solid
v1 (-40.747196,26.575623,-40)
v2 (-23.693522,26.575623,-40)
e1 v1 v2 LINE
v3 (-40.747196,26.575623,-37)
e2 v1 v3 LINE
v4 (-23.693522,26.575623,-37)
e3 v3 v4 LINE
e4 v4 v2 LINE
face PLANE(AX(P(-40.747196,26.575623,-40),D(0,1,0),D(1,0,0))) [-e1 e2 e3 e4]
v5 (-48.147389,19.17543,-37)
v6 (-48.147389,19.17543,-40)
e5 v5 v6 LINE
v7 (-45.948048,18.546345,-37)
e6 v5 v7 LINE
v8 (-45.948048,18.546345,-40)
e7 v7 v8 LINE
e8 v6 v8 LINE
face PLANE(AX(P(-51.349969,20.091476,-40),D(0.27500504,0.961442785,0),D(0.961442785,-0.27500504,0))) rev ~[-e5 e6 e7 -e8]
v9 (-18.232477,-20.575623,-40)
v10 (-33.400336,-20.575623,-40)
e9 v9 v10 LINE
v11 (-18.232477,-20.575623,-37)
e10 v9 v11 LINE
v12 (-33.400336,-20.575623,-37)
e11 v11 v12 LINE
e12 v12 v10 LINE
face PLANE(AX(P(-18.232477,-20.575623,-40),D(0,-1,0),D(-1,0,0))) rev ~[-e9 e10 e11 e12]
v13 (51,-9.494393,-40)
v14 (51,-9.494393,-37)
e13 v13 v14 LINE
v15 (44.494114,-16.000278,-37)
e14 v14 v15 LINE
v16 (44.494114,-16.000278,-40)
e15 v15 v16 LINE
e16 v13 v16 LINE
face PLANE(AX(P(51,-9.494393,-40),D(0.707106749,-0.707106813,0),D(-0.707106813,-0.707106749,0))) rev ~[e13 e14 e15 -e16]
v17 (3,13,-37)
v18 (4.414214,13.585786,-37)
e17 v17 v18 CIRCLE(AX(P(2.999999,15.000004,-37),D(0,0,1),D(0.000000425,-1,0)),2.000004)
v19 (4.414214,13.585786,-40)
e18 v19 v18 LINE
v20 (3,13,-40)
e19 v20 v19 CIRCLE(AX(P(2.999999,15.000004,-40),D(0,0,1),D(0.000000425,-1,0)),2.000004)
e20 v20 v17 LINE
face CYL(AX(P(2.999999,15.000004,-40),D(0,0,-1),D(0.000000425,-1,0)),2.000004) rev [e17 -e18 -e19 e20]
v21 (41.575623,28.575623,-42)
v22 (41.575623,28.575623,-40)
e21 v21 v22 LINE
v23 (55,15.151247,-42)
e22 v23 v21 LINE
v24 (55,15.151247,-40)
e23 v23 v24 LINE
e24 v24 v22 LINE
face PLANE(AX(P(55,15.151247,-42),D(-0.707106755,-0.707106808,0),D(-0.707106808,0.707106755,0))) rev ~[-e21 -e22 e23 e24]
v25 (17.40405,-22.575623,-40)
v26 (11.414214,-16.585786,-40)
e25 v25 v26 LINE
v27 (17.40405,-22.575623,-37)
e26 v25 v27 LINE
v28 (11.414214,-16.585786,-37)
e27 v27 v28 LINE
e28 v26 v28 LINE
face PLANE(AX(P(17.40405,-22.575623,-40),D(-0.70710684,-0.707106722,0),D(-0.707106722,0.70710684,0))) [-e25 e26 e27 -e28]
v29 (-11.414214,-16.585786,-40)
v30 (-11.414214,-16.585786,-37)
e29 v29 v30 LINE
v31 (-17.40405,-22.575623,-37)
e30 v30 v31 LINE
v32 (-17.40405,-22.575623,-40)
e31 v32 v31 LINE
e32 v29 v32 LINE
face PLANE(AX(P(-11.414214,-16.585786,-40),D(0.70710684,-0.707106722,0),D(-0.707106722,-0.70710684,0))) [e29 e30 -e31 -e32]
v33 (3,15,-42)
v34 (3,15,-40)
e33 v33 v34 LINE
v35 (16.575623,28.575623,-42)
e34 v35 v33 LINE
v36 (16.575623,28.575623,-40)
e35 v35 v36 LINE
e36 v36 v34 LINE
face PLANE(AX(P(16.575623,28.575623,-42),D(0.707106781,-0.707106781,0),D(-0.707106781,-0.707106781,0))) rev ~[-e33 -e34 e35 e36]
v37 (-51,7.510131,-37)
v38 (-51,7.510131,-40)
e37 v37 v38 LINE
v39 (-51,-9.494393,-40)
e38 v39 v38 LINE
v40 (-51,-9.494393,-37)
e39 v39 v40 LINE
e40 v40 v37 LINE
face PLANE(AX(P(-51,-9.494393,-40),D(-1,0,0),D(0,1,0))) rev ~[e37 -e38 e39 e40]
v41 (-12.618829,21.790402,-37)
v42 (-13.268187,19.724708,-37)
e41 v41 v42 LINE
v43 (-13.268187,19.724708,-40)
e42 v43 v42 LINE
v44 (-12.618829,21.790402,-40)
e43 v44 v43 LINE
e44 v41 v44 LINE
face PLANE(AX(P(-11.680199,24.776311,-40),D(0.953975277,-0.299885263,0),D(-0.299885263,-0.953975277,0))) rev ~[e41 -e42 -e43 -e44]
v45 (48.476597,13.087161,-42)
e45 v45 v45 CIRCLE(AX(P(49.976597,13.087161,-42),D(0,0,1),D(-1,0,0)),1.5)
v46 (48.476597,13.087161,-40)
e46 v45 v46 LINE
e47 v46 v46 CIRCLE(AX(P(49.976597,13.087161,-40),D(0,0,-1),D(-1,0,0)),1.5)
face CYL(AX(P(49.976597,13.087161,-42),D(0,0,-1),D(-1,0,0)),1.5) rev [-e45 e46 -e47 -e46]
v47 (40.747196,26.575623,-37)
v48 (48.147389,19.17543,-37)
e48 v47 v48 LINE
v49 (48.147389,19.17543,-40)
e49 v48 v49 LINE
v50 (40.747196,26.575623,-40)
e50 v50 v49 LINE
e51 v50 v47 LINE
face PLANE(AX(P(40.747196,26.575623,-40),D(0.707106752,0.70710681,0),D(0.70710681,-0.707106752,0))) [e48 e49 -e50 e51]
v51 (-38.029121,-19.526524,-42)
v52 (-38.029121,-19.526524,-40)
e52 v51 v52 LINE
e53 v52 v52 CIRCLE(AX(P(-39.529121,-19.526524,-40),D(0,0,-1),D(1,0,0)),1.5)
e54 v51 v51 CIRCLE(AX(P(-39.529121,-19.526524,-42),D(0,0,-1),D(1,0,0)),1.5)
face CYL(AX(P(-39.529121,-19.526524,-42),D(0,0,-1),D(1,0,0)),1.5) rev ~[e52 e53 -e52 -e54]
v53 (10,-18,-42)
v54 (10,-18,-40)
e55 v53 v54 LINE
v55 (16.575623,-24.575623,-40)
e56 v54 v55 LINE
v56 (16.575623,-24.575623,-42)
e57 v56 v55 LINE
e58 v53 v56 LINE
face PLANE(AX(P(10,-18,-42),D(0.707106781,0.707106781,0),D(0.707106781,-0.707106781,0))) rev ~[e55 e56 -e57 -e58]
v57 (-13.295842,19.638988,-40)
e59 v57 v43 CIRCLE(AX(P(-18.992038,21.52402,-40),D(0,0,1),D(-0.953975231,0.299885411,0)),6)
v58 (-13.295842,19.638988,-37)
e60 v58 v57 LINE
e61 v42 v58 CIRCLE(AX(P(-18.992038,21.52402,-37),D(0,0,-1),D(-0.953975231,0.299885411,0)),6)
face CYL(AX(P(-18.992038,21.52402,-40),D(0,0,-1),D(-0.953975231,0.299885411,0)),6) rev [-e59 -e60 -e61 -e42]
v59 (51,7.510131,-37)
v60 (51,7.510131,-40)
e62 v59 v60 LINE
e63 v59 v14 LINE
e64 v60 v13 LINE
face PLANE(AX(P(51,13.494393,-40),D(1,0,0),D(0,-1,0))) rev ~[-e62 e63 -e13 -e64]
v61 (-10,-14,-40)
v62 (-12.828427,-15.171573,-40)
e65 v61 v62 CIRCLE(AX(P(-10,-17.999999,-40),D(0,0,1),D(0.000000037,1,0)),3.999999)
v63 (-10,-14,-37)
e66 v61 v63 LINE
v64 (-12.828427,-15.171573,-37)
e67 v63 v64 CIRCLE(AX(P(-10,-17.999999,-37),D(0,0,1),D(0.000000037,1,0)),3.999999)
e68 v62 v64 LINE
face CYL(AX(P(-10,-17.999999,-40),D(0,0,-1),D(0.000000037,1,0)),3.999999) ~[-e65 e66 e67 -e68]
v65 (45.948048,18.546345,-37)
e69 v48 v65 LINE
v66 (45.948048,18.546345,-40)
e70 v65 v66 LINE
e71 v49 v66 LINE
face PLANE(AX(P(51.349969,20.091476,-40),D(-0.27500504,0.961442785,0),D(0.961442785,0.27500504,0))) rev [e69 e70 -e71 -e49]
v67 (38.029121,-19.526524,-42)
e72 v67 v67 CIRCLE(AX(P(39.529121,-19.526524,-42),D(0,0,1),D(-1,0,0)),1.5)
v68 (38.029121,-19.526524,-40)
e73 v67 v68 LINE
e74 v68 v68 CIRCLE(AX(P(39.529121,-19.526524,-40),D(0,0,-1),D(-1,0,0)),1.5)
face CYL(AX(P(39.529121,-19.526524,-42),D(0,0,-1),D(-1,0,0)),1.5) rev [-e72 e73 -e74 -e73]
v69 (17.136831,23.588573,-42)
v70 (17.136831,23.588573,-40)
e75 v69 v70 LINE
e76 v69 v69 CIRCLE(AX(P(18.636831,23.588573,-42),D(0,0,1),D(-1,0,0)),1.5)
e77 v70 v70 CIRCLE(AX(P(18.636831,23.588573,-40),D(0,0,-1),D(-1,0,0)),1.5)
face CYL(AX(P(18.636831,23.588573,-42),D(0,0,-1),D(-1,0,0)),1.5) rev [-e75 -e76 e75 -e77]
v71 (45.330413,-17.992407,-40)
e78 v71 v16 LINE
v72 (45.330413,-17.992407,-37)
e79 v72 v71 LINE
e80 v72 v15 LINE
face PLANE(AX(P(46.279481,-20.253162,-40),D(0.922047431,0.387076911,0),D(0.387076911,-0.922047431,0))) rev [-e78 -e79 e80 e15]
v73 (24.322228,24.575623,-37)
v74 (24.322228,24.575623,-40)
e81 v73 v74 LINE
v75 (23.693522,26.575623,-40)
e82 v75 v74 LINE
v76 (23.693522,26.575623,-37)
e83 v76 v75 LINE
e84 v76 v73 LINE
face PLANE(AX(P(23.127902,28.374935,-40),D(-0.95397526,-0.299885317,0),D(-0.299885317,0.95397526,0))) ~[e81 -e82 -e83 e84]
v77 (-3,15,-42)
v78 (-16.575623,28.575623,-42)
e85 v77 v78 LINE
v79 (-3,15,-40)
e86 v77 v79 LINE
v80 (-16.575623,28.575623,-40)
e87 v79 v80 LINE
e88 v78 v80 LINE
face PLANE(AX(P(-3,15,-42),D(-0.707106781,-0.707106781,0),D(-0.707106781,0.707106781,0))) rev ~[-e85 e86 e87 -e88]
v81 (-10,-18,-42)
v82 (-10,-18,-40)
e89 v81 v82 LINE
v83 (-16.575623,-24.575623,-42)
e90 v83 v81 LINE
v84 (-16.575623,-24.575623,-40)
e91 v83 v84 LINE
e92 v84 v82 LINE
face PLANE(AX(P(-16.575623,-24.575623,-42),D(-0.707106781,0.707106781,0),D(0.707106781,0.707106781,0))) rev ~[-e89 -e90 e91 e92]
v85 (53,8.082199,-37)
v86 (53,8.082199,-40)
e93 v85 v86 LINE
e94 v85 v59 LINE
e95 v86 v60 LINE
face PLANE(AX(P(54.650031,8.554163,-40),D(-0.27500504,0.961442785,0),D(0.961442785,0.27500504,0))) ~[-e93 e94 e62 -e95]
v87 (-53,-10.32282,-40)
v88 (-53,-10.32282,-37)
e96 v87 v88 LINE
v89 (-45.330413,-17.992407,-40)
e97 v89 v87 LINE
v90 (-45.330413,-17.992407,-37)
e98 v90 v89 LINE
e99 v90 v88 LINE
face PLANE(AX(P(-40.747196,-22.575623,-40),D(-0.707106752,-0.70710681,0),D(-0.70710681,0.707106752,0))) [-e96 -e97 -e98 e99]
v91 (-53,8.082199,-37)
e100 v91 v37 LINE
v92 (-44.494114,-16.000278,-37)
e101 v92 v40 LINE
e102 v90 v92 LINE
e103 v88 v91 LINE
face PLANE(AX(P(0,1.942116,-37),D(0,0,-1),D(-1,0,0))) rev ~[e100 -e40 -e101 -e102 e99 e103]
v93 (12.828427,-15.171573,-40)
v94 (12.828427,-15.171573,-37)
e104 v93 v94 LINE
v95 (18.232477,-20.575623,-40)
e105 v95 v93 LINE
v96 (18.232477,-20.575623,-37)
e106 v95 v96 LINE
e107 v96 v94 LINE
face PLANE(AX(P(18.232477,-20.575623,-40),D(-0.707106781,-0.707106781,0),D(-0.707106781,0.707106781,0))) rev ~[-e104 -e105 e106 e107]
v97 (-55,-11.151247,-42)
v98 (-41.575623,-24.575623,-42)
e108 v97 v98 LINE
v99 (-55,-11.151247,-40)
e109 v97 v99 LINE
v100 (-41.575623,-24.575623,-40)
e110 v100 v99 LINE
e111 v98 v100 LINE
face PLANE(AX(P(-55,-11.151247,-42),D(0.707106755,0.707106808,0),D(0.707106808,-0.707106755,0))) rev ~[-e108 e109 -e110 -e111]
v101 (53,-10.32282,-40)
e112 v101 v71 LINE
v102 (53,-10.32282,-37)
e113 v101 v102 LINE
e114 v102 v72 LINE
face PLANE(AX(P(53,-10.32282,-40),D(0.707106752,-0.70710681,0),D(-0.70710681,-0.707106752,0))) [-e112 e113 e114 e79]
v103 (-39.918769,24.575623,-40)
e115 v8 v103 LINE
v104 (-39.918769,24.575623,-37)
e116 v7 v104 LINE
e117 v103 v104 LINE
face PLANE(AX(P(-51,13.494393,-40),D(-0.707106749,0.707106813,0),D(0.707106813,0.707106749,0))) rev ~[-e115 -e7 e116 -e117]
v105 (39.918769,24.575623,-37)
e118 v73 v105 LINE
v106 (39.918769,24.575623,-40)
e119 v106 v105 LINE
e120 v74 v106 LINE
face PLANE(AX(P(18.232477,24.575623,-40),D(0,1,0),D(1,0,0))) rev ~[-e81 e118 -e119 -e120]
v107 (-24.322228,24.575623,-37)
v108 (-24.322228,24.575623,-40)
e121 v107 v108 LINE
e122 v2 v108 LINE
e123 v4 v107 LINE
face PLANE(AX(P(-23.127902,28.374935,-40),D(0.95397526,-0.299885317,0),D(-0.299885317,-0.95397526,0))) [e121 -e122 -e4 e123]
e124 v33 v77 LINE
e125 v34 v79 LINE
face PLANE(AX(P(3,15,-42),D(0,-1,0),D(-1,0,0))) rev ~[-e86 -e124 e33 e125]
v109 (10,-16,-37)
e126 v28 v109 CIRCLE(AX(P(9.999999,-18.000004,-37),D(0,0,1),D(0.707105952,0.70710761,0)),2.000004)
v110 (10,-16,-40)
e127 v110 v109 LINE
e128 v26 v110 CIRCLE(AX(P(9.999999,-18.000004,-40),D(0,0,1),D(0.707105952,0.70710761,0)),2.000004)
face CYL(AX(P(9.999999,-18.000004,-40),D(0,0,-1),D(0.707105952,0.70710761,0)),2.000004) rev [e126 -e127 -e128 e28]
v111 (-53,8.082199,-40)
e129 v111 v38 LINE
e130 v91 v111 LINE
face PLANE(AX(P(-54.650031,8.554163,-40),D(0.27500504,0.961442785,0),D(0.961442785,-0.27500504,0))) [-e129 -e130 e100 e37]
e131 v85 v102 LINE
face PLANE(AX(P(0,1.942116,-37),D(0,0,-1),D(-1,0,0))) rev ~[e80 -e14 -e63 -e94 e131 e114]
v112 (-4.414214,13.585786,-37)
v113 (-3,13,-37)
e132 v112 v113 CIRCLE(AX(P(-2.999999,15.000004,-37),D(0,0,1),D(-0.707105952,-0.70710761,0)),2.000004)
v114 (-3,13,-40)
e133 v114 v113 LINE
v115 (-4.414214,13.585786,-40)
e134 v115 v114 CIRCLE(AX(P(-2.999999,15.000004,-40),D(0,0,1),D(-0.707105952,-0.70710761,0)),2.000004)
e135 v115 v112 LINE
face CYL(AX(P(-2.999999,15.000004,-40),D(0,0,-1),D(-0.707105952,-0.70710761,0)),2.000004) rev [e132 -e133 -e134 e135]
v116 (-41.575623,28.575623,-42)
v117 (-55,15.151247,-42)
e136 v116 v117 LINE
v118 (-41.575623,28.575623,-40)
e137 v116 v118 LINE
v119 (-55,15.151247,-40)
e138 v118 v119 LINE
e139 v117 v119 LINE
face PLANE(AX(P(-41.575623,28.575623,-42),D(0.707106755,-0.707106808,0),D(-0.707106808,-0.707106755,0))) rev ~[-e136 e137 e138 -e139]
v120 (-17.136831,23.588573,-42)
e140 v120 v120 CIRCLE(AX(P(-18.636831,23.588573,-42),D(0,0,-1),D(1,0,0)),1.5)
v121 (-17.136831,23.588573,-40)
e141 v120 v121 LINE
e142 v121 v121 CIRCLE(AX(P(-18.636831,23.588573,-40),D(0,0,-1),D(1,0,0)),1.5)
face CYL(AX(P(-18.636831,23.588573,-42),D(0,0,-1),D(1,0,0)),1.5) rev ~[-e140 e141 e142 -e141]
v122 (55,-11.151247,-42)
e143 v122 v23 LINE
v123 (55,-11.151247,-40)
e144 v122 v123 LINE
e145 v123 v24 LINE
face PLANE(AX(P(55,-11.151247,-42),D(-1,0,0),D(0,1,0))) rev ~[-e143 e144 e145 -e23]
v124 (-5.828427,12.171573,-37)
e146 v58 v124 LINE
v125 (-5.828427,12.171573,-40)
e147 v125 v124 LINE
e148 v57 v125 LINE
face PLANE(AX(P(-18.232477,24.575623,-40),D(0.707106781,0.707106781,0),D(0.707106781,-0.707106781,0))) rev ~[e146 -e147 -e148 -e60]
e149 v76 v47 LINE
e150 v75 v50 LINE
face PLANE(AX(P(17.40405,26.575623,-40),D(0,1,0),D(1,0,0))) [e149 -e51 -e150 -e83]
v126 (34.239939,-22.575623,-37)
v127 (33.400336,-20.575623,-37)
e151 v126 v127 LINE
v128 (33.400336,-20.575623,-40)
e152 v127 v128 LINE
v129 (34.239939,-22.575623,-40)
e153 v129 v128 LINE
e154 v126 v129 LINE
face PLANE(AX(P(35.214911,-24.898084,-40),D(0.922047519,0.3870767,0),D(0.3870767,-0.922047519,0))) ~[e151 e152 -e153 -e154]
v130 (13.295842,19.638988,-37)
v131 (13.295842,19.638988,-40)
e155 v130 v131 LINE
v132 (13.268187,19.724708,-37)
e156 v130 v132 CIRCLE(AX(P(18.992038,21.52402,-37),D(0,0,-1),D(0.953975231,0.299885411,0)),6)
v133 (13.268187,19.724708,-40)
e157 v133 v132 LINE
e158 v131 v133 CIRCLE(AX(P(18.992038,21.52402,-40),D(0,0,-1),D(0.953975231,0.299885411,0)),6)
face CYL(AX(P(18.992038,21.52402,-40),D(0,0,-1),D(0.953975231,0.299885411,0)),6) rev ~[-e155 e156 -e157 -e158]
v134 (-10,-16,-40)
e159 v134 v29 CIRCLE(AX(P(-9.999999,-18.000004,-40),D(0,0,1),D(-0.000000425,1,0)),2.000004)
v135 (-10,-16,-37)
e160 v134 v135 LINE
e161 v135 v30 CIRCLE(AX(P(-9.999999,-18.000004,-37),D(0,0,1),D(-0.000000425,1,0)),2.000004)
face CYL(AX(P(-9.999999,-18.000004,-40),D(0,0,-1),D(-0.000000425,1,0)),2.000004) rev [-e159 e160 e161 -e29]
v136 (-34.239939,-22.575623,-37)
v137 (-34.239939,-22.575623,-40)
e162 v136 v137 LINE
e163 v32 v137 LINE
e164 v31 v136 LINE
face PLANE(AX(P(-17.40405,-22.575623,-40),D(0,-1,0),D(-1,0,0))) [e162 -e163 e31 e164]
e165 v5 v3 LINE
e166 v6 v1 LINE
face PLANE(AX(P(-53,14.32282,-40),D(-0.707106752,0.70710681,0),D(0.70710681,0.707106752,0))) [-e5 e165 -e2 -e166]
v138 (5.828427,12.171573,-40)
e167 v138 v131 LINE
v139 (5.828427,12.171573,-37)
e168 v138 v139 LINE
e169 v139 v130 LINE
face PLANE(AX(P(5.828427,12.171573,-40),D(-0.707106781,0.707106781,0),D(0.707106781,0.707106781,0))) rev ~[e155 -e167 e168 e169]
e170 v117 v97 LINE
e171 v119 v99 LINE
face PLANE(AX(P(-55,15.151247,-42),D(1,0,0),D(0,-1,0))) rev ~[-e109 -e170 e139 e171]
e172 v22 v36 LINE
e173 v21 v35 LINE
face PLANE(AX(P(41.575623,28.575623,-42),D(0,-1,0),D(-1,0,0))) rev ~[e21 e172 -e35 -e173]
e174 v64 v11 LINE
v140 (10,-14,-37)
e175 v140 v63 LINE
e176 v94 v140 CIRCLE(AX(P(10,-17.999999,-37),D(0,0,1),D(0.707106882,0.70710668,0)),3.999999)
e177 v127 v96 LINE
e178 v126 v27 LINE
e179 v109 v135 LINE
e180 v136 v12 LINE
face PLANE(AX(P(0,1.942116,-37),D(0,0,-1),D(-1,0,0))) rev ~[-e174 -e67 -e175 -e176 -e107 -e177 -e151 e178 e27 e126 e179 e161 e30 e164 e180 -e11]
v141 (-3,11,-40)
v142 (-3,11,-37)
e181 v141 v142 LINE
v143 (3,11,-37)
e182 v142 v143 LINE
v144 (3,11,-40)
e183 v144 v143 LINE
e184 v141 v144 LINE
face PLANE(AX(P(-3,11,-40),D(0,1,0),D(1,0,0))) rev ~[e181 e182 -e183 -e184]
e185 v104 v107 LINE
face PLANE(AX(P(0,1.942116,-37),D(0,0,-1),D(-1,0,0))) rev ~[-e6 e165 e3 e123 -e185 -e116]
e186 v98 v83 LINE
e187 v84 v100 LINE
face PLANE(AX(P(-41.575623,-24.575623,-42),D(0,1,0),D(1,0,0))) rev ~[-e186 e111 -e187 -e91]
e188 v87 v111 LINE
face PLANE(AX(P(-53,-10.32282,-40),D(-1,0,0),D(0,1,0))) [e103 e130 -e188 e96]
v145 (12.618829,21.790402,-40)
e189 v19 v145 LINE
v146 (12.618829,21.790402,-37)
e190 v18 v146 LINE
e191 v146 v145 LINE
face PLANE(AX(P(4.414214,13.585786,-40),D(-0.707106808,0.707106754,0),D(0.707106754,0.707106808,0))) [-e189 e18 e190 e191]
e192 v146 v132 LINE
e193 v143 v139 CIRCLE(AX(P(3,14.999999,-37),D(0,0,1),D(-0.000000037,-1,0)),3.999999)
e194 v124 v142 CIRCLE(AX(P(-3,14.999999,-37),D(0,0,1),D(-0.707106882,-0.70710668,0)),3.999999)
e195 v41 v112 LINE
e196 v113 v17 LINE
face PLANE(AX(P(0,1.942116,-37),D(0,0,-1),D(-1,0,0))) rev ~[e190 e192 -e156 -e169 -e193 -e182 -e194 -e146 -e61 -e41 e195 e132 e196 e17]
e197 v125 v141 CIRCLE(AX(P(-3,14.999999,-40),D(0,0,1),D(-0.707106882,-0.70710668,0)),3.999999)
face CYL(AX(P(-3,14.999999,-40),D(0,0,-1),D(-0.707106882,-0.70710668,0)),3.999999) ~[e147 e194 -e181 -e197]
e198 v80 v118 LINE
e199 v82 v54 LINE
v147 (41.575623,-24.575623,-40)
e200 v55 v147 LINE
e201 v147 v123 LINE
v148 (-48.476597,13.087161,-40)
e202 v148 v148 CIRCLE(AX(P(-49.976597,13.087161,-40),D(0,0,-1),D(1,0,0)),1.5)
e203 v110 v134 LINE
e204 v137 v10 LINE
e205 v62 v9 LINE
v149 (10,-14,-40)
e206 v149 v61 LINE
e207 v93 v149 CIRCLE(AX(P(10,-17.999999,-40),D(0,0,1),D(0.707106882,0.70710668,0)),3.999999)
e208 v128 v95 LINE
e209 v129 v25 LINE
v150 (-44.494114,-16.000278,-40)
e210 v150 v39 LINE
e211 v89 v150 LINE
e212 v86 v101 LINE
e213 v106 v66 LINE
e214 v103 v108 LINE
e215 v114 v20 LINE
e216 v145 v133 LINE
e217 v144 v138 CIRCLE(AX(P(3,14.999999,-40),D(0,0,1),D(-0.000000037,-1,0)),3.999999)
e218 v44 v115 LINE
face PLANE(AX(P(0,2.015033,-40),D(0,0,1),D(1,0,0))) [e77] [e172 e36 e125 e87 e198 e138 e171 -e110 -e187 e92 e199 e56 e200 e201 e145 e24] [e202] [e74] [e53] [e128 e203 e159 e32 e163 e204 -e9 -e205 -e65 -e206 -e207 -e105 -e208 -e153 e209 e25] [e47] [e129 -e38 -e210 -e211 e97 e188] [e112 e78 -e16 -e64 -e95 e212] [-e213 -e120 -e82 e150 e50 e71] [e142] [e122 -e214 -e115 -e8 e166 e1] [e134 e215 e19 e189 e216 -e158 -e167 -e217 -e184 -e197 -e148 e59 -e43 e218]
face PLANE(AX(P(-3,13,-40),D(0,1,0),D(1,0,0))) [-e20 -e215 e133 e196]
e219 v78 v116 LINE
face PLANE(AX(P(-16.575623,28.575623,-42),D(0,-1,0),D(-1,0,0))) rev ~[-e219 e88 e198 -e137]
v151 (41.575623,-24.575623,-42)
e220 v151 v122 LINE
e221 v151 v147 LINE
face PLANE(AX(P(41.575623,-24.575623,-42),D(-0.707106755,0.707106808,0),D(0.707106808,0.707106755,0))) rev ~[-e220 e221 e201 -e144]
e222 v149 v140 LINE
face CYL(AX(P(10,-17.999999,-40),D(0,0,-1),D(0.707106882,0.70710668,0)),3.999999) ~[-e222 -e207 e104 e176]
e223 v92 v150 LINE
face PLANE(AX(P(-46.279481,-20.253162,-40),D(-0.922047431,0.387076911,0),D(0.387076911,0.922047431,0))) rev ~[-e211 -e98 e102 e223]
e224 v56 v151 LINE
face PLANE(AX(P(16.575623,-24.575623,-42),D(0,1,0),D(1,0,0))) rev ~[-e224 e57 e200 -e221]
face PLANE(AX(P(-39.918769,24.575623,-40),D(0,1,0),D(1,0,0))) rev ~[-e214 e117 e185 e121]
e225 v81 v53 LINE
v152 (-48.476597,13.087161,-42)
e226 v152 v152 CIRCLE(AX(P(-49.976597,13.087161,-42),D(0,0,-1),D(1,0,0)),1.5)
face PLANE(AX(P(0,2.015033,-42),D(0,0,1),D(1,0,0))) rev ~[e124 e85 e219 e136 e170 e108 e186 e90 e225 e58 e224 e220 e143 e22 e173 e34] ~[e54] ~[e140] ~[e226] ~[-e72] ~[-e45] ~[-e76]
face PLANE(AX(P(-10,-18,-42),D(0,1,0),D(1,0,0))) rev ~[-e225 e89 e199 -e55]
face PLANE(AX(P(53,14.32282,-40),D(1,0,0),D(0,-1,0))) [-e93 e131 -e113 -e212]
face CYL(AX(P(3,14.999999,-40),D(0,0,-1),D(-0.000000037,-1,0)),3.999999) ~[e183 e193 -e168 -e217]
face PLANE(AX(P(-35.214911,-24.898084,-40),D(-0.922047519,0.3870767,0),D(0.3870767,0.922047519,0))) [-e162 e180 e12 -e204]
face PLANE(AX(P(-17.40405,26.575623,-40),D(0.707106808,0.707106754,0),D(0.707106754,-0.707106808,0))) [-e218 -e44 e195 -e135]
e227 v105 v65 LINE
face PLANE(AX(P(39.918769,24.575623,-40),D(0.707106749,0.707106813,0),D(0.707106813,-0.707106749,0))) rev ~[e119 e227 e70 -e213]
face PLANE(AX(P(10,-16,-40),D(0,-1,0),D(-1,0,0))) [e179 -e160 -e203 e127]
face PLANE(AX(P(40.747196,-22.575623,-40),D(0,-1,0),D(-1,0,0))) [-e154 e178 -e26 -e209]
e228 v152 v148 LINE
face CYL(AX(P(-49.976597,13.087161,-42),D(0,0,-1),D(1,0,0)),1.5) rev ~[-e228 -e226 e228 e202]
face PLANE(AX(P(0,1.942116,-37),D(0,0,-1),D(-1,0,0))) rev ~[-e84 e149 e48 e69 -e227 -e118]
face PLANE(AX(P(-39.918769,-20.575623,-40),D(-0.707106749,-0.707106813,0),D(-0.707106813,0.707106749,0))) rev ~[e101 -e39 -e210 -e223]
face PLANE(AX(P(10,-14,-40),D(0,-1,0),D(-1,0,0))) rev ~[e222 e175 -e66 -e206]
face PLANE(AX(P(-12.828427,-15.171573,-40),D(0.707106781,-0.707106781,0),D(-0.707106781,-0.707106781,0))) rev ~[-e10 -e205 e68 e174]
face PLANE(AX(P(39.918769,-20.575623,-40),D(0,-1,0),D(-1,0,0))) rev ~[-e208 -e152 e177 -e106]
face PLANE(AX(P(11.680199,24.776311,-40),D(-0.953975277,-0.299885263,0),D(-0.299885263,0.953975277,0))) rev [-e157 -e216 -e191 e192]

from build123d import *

# Parameters (mm, degrees)
PAD004_DEPTH    = 2
PAD005_DEPTH    = 3
POCKET006_DEPTH = 5
SKETCH015_R     = 1.5
POCKET007_DEPTH = 5


with BuildPart() as part:
    # Sketch011 → Pad004 (new body)
    with BuildSketch(Plane.XY):
        Polygon((-41.575623, -24.575623), (-16.575623, -24.575623), (-10, -18), (10, -18), (16.575623, -24.575623), (41.575623, -24.575623), (55, -11.151247), (55, 15.151247), (41.575623, 28.575623), (16.575623, 28.575623), (3, 15), (-3, 15), (-16.575623, 28.575623), (-41.575623, 28.575623), (-55, 15.151247), (-55, -11.151247), align=None)
    extrude(amount=PAD004_DEPTH)

    # Sketch012 (on Face18 of Pad004) → Pad005 (join)
    with BuildSketch(Plane.XY.offset(2)):
        with BuildLine():
            Line((-53, -10.32282), (-53, 14.32282))
            Line((-53, 14.32282), (-40.747196, 26.575623))
            Line((-40.747196, 26.575623), (-17.40405, 26.575623))
            Line((-17.40405, 26.575623), (-4.414214, 13.585786))
            ThreePointArc((-4.414214, 13.585786), (-3.765367, 13.152241), (-3, 13))
            Line((-3, 13), (3, 13))
            ThreePointArc((3, 13), (3.765367, 13.152241), (4.414214, 13.585786))
            Line((4.414214, 13.585786), (17.40405, 26.575623))
            Line((17.40405, 26.575623), (40.747196, 26.575623))
            Line((40.747196, 26.575623), (53, 14.32282))
            Line((53, 14.32282), (53, -10.32282))
            Line((53, -10.32282), (40.747196, -22.575623))
            Line((40.747196, -22.575623), (17.40405, -22.575623))
            Line((17.40405, -22.575623), (11.414214, -16.585786))
            ThreePointArc((11.414214, -16.585786), (10.765367, -16.152241), (10, -16))
            Line((10, -16), (-10, -16))
            ThreePointArc((-10, -16), (-10.765367, -16.152241), (-11.414214, -16.585786))
            Line((-11.414214, -16.585786), (-17.40405, -22.575623))
            Line((-17.40405, -22.575623), (-40.747196, -22.575623))
            Line((-40.747196, -22.575623), (-53, -10.32282))
        make_face()
        with BuildLine():
            Line((-51, 13.494393), (-39.918769, 24.575623))
            Line((-39.918769, 24.575623), (-18.232477, 24.575623))
            Line((-18.232477, 24.575623), (-5.828427, 12.171573))
            ThreePointArc((-5.828427, 12.171573), (-4.530734, 11.304482), (-3, 11))
            Line((-3, 11), (3, 11))
            ThreePointArc((3, 11), (4.530734, 11.304482), (5.828427, 12.171573))
            Line((5.828427, 12.171573), (18.232477, 24.575623))
            Line((18.232477, 24.575623), (39.918769, 24.575623))
            Line((39.918769, 24.575623), (51, 13.494393))
            Line((51, 13.494393), (51, -9.494393))
            Line((51, -9.494393), (39.918769, -20.575623))
            Line((39.918769, -20.575623), (18.232477, -20.575623))
            Line((18.232477, -20.575623), (12.828427, -15.171573))
            ThreePointArc((12.828427, -15.171573), (11.530734, -14.304482), (10, -14))
            Line((10, -14), (-10, -14))
            ThreePointArc((-10, -14), (-11.530734, -14.304482), (-12.828427, -15.171573))
            Line((-12.828427, -15.171573), (-18.232477, -20.575623))
            Line((-18.232477, -20.575623), (-39.918769, -20.575623))
            Line((-39.918769, -20.575623), (-51, -9.494393))
            Line((-51, -9.494393), (-51, 13.494393))
        make_face(mode=Mode.SUBTRACT)
    extrude(amount=PAD005_DEPTH)

    # Sketch014 (on Face60 of Pad005) → Pocket006 (cut)
    with BuildSketch(Plane.XY.offset(2)):
        with BuildLine():
            ThreePointArc((-11.680199, 24.776311), (-15.604738, 32.299474), (-23.127902, 28.374935))
            Line((-23.127902, 28.374935), (-24.71589, 23.323333))
            ThreePointArc((-24.71589, 23.323333), (-20.791351, 15.800169), (-13.268187, 19.724708))
            Line((-11.680199, 24.776311), (-13.268187, 19.724708))
        make_face()
        with BuildLine():
            ThreePointArc((-51.349969, 20.091476), (-58.768657, 15.972851), (-54.650031, 8.554163))
            Line((-54.650031, 8.554163), (-47.649779, 6.551855))
            ThreePointArc((-47.649779, 6.551855), (-40.231091, 10.67048), (-44.349717, 18.089168))
            Line((-51.349969, 20.091476), (-44.349717, 18.089168))
        make_face()
        with BuildLine():
            ThreePointArc((-46.279481, -20.253162), (-43.069657, -28.107908), (-35.214911, -24.898084))
            Line((-35.214911, -24.898084), (-33.002469, -19.627871))
            ThreePointArc((-33.002469, -19.627871), (-36.212293, -11.773126), (-44.067038, -14.98295))
            Line((-46.279481, -20.253162), (-44.067038, -14.98295))
        make_face()
    pocket006 = extrude(amount=POCKET006_DEPTH, mode=Mode.SUBTRACT)

    # Sketch015 (on Face4 of Pocket006) → Pocket007 (cut)
    with BuildSketch(Plane(origin=(0, 0, 0), x_dir=(1, 0, 0), z_dir=(0, 0, -1))):
        with Locations((-39.529121, 19.526524)):
            Circle(SKETCH015_R)
        with Locations((-49.976597, -13.087161)):
            Circle(SKETCH015_R)
        with Locations((-18.636831, -23.588573)):
            Circle(SKETCH015_R)
    pocket007 = extrude(amount=-POCKET007_DEPTH, mode=Mode.SUBTRACT)

    # Mirrored001: Pocket006, Pocket007 across Sketch014 V_Axis
    add(pocket006.mirror(Plane(origin=(0, 0, 2), x_dir=(0, 0, 1), z_dir=(1, 0, 0))), mode=Mode.SUBTRACT)
    add(pocket007.mirror(Plane(origin=(0, 0, 2), x_dir=(0, 0, 1), z_dir=(1, 0, 0))), mode=Mode.SUBTRACT)


with BuildPart() as part_1:
    # Body002 placement: moved
    add(part.part.moved(Location((0, 0, -42))))


solid = part_1.part
